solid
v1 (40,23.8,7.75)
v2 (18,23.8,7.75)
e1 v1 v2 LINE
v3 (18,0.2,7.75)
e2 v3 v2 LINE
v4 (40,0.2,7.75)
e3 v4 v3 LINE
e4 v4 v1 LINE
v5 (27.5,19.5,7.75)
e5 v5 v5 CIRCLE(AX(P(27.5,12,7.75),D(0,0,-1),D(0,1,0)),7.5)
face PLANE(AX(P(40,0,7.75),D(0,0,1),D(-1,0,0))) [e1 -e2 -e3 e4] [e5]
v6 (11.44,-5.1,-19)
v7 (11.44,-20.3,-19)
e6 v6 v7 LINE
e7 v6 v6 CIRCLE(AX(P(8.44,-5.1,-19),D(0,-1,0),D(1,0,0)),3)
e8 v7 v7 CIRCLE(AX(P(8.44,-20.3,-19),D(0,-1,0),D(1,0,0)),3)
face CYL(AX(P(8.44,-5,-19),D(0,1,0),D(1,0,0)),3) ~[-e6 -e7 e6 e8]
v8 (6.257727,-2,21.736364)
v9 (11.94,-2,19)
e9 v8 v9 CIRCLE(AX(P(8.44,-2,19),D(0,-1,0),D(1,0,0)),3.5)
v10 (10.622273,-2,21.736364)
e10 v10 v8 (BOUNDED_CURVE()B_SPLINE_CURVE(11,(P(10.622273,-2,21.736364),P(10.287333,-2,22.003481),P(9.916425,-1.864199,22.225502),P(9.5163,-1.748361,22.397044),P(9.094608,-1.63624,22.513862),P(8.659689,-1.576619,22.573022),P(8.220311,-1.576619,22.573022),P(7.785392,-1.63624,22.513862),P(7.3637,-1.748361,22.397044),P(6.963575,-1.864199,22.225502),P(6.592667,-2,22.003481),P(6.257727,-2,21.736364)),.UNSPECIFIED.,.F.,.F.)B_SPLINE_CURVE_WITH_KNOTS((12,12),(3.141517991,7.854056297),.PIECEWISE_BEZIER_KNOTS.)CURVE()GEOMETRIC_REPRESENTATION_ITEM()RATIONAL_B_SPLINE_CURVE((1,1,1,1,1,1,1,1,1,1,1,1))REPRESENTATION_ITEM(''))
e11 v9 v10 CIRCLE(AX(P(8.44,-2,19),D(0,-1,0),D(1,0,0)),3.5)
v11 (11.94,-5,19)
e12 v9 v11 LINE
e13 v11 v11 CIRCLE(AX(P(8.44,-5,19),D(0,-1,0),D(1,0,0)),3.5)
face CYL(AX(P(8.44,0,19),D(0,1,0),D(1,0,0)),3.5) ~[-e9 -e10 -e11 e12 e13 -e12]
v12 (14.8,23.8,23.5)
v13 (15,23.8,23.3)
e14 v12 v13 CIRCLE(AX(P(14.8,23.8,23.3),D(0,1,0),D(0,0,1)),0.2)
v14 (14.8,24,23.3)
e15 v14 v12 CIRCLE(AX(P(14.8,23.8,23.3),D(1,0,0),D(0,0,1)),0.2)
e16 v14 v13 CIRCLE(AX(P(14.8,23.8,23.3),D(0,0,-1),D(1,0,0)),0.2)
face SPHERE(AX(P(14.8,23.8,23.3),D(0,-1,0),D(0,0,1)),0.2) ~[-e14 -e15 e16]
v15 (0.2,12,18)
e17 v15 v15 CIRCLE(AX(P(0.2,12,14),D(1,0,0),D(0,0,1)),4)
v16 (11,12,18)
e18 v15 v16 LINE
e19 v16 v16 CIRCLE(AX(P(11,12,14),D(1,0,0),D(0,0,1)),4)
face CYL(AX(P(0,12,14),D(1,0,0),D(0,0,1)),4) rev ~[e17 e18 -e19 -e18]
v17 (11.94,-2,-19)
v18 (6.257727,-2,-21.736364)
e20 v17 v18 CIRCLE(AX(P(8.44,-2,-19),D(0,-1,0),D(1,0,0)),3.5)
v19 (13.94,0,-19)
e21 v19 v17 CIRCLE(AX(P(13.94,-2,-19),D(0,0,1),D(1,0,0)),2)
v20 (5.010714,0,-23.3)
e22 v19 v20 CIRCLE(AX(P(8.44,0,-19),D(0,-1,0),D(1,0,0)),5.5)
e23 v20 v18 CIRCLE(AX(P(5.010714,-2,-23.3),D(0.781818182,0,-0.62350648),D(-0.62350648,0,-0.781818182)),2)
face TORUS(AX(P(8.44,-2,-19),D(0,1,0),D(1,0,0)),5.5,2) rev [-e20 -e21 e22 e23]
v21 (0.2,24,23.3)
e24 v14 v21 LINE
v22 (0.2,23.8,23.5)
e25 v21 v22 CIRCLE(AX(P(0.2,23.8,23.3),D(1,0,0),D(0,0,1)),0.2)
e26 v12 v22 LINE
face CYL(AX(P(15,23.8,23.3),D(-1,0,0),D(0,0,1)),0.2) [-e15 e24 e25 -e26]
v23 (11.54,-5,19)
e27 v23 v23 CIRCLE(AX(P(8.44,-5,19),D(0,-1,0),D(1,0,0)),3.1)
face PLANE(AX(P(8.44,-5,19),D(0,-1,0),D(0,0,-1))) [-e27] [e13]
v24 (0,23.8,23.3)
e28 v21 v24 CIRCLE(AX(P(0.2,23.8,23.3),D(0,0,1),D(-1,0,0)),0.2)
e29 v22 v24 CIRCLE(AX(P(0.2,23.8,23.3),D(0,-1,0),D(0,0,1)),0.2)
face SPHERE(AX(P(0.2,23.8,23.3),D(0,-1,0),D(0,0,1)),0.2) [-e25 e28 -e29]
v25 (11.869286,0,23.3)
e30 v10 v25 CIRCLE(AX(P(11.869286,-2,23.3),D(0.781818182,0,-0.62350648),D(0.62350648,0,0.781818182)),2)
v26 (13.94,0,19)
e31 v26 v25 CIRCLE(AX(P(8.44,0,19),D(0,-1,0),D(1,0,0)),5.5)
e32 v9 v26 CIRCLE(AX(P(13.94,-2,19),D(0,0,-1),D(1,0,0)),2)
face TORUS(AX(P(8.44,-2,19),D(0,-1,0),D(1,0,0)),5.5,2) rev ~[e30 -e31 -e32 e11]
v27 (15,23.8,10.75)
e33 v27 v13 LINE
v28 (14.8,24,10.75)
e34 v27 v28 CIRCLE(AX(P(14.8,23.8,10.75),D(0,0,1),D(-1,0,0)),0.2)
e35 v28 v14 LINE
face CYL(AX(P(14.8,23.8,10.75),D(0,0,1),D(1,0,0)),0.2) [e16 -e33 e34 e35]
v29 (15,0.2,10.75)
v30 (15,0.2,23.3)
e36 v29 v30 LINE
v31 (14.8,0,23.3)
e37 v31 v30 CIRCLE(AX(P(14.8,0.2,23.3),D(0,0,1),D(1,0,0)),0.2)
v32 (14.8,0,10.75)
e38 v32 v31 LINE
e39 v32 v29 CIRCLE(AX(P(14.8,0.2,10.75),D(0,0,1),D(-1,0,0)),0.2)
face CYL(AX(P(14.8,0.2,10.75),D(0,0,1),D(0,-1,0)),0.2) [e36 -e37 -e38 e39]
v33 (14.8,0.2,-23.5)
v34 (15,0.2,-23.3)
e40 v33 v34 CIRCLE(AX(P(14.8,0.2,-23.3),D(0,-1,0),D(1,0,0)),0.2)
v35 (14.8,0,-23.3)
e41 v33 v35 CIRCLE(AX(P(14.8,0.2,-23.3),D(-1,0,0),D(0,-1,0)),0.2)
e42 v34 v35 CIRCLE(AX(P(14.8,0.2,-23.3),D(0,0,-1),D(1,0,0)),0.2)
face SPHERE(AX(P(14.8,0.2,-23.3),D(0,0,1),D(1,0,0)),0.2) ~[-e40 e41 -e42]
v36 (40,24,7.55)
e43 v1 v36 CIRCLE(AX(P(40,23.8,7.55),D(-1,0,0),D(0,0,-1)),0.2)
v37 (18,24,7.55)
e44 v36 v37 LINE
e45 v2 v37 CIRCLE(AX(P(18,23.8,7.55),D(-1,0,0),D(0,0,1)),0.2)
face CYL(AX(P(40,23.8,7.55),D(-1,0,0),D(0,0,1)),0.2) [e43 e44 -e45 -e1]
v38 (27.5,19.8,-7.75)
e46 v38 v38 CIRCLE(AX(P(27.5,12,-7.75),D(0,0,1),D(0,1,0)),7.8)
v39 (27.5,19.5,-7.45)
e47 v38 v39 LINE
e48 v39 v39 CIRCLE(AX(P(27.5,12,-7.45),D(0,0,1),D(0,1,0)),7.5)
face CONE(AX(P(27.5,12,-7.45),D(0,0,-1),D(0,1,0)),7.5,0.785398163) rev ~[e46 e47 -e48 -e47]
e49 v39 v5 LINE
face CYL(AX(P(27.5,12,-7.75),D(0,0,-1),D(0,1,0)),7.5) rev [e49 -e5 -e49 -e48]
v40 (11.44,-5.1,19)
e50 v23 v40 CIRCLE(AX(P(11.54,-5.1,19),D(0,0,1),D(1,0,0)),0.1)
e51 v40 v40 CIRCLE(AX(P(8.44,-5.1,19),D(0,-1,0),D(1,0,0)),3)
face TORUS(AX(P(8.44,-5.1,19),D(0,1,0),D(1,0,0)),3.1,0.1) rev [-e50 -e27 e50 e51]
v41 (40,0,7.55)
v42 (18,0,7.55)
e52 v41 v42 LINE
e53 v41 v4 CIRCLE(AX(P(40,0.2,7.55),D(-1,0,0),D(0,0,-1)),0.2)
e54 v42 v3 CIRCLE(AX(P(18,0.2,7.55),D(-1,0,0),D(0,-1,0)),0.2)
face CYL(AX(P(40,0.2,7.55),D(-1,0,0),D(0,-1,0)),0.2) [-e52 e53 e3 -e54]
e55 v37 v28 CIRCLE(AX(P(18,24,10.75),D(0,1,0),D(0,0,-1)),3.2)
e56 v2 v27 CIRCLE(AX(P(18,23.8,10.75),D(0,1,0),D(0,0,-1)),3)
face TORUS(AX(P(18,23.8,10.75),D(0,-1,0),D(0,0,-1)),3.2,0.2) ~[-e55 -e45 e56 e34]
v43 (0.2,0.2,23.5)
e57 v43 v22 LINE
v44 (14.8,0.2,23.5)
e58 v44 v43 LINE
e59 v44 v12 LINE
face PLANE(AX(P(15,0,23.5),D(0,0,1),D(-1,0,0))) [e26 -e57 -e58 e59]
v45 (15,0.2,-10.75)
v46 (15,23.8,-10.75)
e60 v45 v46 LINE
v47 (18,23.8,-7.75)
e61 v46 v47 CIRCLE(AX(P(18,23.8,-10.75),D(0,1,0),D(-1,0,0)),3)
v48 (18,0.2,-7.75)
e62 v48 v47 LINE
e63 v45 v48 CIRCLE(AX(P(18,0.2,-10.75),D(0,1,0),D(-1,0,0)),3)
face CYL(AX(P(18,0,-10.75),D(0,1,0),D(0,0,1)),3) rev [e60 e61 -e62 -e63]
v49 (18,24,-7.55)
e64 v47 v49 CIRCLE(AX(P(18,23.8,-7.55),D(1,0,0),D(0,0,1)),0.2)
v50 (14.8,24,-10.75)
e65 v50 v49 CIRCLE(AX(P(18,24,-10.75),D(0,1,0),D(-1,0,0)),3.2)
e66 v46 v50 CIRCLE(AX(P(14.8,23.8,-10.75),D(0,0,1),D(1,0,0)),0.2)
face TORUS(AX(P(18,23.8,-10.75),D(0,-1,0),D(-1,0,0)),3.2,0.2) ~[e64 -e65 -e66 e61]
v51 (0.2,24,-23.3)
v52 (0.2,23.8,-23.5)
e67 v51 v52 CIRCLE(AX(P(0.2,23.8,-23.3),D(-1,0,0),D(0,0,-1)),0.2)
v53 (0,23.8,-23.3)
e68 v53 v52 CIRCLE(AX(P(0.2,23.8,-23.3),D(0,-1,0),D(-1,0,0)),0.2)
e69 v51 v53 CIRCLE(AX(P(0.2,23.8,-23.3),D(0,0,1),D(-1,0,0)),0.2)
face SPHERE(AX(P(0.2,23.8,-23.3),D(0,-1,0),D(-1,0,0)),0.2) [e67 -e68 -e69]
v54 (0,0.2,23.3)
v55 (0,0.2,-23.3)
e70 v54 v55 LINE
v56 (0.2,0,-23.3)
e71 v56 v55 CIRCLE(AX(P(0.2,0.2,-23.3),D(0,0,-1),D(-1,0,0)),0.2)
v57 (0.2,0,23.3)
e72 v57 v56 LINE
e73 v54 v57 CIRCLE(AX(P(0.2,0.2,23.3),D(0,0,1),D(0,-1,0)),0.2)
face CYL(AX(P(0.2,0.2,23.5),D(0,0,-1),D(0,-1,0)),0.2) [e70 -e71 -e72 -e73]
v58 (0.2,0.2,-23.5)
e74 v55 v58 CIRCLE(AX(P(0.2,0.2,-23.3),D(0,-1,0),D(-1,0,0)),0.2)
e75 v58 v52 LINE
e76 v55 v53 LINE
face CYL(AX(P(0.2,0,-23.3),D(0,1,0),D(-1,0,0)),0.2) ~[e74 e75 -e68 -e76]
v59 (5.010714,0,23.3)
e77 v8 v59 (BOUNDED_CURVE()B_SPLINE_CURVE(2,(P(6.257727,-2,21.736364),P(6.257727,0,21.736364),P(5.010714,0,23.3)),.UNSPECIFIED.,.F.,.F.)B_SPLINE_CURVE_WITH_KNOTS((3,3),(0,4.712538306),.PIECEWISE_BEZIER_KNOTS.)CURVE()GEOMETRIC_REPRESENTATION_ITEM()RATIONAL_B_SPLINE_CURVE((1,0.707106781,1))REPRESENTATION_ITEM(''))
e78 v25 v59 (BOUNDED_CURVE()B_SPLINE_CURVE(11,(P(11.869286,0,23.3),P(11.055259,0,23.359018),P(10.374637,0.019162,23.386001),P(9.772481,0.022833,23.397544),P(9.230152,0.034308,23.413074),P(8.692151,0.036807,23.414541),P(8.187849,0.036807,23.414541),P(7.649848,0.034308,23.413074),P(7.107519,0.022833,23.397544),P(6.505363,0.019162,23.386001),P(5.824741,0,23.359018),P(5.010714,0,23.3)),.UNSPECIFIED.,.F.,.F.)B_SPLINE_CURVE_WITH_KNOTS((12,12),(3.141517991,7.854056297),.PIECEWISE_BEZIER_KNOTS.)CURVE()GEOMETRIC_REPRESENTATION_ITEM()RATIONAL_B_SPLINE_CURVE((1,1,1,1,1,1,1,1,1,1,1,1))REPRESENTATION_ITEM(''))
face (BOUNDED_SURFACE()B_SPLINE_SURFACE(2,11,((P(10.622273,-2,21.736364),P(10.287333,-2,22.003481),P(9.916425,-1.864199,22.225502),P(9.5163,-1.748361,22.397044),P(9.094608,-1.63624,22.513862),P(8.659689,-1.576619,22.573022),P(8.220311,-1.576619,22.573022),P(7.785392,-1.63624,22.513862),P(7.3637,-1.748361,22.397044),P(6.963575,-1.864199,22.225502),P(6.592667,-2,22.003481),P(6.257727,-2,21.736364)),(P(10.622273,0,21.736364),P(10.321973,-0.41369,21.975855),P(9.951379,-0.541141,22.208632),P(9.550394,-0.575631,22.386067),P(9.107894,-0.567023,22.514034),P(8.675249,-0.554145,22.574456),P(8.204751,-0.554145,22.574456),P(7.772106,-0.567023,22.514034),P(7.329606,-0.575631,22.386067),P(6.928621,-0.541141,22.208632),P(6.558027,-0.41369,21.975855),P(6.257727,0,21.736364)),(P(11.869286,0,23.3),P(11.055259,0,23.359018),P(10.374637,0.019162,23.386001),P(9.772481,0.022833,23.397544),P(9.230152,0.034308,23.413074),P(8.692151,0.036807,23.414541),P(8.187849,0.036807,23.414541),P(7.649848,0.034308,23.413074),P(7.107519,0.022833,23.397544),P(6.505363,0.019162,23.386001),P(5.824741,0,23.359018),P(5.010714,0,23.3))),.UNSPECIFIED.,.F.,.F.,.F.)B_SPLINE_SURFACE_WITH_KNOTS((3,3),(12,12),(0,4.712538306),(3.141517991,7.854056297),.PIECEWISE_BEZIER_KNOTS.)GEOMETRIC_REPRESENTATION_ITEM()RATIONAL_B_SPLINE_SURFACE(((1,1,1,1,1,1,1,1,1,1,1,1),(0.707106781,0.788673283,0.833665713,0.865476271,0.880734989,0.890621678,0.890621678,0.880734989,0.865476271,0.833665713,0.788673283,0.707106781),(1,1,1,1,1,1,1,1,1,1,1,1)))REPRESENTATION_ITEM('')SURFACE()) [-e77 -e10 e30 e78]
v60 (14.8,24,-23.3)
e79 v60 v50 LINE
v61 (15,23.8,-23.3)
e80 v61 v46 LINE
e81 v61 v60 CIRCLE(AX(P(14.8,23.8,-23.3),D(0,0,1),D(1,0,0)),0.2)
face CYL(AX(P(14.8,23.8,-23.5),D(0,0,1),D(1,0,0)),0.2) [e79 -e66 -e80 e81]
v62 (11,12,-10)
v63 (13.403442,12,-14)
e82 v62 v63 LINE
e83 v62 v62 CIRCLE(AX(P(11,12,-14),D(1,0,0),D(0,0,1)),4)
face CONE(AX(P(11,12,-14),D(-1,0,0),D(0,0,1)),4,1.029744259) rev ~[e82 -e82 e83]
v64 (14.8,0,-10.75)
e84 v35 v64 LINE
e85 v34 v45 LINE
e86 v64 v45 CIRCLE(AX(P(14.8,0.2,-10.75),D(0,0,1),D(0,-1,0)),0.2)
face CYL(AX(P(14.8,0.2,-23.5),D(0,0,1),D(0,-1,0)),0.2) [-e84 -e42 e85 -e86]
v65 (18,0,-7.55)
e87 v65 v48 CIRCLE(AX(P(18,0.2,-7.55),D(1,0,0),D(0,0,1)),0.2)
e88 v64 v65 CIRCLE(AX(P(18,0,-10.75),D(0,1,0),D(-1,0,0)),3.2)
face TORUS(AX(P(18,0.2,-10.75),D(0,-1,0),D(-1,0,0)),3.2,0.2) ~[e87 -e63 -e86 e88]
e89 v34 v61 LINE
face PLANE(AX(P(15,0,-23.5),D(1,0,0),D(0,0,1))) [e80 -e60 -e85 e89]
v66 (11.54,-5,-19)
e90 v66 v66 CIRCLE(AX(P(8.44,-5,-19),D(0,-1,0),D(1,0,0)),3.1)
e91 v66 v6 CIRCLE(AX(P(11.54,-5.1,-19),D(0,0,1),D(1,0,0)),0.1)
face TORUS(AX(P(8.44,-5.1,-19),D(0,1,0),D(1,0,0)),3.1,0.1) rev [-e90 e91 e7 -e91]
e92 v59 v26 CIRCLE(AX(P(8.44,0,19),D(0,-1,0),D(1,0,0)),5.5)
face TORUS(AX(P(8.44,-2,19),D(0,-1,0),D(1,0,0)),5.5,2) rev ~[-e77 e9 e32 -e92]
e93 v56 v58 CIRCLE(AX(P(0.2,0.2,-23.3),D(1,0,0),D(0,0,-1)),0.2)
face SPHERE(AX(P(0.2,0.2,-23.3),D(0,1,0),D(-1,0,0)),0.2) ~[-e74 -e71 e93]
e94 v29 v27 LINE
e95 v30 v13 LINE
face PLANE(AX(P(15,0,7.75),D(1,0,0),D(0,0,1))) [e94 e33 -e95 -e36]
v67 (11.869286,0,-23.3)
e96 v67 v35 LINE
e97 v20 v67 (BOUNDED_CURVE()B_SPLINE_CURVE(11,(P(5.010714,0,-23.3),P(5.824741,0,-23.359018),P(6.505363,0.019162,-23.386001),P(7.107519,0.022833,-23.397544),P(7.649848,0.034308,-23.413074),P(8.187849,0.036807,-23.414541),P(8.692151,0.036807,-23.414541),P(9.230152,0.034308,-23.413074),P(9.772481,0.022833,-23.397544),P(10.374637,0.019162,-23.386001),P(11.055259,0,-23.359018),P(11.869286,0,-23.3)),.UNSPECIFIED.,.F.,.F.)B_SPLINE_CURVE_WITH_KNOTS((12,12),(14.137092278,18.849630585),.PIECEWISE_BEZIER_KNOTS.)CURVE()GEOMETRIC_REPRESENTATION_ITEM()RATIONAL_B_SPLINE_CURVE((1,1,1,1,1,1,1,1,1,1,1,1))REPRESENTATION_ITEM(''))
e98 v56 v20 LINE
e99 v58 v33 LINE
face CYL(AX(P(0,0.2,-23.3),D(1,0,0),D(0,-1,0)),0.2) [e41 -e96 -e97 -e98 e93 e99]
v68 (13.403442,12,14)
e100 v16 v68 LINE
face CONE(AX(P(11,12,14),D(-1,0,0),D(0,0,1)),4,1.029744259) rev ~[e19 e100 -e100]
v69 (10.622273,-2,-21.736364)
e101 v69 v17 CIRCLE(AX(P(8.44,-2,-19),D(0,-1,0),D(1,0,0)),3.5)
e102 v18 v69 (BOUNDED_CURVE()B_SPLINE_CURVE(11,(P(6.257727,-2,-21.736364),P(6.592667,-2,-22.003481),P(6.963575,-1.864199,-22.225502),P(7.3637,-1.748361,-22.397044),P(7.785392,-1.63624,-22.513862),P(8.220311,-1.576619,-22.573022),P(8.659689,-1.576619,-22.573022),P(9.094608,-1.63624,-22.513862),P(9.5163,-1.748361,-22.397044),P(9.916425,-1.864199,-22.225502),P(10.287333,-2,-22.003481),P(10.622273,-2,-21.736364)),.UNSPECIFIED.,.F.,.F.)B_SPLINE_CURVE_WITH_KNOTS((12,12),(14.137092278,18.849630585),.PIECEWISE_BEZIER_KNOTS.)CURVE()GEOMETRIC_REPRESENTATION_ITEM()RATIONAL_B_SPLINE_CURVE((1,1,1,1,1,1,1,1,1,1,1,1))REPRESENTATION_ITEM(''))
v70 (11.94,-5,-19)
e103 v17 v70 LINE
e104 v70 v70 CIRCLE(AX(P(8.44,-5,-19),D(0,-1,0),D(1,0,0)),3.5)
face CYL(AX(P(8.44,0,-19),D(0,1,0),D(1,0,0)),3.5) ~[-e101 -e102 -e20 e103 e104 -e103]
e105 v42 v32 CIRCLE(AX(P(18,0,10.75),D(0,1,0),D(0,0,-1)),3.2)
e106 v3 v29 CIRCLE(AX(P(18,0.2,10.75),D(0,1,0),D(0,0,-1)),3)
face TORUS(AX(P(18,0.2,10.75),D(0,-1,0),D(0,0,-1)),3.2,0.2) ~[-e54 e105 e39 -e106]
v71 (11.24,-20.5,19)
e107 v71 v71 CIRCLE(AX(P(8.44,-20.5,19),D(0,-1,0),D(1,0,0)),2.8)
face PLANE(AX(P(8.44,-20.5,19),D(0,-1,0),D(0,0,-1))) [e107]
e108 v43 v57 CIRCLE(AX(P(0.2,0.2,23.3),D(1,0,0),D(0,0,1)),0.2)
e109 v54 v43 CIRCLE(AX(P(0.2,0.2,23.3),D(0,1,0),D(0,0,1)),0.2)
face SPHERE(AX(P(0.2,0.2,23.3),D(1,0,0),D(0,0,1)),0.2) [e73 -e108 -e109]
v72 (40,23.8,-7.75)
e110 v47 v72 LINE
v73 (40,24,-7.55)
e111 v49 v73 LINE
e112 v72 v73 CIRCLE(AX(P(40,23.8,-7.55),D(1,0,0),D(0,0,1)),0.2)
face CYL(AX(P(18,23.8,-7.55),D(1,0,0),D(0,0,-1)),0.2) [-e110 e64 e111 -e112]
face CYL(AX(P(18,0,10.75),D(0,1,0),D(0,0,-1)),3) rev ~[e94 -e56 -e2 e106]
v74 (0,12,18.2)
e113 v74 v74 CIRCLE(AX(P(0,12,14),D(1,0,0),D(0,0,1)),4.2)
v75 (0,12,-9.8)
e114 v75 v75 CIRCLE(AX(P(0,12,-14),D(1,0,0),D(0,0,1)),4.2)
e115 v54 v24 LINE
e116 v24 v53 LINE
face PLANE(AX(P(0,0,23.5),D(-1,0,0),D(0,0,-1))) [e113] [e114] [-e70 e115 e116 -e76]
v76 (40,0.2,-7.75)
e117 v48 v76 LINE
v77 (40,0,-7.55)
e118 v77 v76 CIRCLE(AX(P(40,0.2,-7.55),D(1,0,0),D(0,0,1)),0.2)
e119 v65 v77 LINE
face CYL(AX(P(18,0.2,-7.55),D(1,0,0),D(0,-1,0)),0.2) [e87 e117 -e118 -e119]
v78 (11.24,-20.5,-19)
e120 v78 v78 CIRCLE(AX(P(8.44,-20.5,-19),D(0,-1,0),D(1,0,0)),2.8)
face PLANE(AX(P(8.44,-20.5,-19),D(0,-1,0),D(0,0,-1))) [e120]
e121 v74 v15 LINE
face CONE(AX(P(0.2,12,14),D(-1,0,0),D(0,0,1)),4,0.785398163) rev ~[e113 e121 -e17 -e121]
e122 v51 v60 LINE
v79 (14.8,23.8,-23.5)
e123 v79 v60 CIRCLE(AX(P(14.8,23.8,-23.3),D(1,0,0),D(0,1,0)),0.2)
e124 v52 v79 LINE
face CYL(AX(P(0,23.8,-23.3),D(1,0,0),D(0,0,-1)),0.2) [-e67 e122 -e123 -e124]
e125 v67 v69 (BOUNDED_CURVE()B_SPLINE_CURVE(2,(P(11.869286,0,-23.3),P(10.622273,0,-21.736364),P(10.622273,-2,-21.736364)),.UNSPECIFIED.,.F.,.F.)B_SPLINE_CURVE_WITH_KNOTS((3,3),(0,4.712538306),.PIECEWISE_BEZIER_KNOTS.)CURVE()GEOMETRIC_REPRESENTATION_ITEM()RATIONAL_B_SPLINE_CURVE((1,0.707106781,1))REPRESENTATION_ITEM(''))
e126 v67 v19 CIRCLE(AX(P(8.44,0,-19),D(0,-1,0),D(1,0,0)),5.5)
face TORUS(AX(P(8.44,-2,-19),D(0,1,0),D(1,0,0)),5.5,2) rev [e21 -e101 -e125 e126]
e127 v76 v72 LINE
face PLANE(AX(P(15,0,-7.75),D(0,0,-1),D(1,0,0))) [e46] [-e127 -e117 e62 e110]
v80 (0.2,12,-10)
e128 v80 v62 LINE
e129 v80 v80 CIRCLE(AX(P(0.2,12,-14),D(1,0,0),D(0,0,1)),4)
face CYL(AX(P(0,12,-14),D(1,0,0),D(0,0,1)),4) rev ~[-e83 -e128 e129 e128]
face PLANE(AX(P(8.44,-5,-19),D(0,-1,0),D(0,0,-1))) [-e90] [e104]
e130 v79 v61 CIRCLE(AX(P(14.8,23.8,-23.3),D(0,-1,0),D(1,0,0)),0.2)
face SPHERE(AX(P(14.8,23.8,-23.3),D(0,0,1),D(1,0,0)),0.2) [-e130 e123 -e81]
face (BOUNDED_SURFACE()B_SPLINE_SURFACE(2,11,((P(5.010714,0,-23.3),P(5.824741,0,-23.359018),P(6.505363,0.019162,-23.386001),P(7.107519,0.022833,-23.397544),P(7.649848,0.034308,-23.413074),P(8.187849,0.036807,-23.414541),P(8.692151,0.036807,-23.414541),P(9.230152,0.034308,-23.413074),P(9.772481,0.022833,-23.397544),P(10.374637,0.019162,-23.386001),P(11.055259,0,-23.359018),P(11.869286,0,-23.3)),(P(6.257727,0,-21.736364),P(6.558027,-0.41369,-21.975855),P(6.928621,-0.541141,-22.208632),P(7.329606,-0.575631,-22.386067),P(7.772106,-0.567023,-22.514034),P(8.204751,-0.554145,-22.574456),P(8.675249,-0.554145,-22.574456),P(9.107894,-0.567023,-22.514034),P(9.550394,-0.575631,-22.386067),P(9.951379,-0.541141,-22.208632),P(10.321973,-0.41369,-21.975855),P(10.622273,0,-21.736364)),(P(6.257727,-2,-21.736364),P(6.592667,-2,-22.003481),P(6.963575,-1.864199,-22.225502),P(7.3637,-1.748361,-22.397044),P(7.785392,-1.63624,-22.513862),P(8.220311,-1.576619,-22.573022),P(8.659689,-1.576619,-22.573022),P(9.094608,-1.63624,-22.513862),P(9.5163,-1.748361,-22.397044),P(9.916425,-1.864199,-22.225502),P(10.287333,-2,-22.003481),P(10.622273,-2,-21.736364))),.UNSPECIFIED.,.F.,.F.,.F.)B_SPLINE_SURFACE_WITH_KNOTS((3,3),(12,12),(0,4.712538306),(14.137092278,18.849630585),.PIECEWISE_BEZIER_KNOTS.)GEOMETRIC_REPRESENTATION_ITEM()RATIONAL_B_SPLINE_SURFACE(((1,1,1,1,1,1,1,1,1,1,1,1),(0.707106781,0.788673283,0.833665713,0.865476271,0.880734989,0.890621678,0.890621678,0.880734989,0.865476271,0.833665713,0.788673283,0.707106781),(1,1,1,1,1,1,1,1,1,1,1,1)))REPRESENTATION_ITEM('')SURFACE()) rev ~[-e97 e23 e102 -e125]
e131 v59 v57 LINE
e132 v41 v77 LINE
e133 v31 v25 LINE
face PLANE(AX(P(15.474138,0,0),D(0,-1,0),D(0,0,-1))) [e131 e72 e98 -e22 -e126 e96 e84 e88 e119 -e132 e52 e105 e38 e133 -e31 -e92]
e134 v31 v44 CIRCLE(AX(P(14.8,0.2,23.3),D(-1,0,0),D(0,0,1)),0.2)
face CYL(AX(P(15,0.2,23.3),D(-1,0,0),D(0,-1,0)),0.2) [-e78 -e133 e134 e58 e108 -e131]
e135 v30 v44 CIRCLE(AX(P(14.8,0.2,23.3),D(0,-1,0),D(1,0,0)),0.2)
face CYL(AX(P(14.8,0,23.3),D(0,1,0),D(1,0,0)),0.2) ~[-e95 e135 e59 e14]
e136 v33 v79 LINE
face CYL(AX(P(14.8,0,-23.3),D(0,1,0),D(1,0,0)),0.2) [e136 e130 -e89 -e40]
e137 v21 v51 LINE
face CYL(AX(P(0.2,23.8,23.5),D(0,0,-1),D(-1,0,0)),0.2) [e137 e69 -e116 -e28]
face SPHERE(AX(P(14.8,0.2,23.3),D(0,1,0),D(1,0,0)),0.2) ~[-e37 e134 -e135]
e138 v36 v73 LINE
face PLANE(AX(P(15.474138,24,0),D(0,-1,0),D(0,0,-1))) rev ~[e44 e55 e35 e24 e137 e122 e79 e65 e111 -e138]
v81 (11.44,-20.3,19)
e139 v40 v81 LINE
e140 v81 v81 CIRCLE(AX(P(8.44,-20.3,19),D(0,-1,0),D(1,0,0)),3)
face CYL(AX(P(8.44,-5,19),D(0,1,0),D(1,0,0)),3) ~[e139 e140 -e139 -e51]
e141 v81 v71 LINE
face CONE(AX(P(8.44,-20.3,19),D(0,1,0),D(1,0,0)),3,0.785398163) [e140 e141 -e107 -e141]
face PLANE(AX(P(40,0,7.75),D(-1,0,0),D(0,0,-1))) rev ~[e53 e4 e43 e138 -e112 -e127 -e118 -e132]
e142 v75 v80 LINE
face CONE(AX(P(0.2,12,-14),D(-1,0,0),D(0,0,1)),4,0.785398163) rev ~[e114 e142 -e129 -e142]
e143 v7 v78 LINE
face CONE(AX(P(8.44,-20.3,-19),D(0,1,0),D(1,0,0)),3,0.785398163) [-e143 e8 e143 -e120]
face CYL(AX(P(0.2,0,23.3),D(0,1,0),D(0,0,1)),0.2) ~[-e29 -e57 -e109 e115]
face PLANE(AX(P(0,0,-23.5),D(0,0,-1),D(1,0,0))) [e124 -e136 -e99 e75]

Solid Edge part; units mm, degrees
sketch "Sketch1" plane through (0, 0, 0) normal (0, -1, 0) x (1, 0, 0)
  line L0 (40, 7.75) -> (15, 7.75)
  line L1 (15, 7.75) -> (15, 23.5)
  line L2 (15, 23.5) -> (0, 23.5)
  line L3 (0, 23.5) -> (0, -23.5)
  line L4 (0, -23.5) -> (15, -23.5)
  line L5 (15, -23.5) -> (15, -7.75)
  line L6 (15, -7.75) -> (40, -7.75)
  line L7 (40, 7.75) -> (40, -7.75)
extrude "Protrusion1" add sketch "Sketch1" against normal blind 24
sketch "Sketch2" plane through (26.19, 0, 0) normal (0, -1, 0) x (1, 0, 0)
  circle A0 centre (-17.75, -19) radius 3.5
  circle A1 centre (-17.75, 19) radius 3.5
  dimension "D1" = 6.56
  dimension "D2" = 4.5
  dimension "D3" = 4.5
extrude "Anschlag" add sketch "Sketch2" along normal blind 5
sketch "Sketch3" plane through (3.5, -5, 20) normal (0, -1, 0) x (1, 0, 0)
  circle A0 centre (4.94, -1) radius 3
  circle A1 centre (4.94, -39) radius 3
  dimension "D1" = 6
  dimension "D2" = 6
extrude "Lagersitz" add sketch "Sketch3" along normal blind 15.5
hole "Bohrung_1" at (0, 12, 14) direction (1, 0, 0) diameter 8 depth 11 tip angle 118 start chamfer 0.2 start chamfer angle 45
hole "Hole1" at (0, 12, -14) direction (1, 0, 0) diameter 8 depth 11 tip angle 118 start chamfer 0.2 start chamfer angle 45
hole "Linearlagersitz" at (27.5, 12, -7.75) direction (0, 0, 1) diameter 15 end up to next start chamfer 0.3 start chamfer angle 45
chamfer "Fase_Lager" distance 0.2 angle 45 2 edges at (5.44, -20.5, -19) (5.44, -20.5, 19)
fillet "Verrundung_Innen" radius 3 2 edges at (15, 12, 7.75) (15, 12, -7.75)
fillet "Verrundung_Außen" radius 0.2 22 edges at (0, 12, -23.5) (15, 24, -17.125) (15.8787, 24, -8.6287) (29, 24, -7.75) (15, 12, 23.5) (15, 0, -17.125) (15.8787, 0, -8.6287) (29, 0, -7.75) (29, 0, 7.75) (15.8787, 0, 8.6287) (15, 0, 17.125) (7.5, 0, 23.5) (0, 12, 23.5) (0, 0, 0) (7.5, 24, 23.5) (15, 12, -23.5) (0, 24, 0) (7.5, 24, -23.5) (29, 24, 7.75) (15.8787, 24, 8.6287) (15, 24, 17.125) (7.5, 0, -23.5)
fillet "Verrundung_Lagersitz" radius 0.1 2 edges at (5.44, -5, 19) (5.44, -5, -19)
fillet "Verrundung_WeakPoints" radius 2 2 edges at (8.44, 0, 22.5) (8.44, 0, -15.5)
